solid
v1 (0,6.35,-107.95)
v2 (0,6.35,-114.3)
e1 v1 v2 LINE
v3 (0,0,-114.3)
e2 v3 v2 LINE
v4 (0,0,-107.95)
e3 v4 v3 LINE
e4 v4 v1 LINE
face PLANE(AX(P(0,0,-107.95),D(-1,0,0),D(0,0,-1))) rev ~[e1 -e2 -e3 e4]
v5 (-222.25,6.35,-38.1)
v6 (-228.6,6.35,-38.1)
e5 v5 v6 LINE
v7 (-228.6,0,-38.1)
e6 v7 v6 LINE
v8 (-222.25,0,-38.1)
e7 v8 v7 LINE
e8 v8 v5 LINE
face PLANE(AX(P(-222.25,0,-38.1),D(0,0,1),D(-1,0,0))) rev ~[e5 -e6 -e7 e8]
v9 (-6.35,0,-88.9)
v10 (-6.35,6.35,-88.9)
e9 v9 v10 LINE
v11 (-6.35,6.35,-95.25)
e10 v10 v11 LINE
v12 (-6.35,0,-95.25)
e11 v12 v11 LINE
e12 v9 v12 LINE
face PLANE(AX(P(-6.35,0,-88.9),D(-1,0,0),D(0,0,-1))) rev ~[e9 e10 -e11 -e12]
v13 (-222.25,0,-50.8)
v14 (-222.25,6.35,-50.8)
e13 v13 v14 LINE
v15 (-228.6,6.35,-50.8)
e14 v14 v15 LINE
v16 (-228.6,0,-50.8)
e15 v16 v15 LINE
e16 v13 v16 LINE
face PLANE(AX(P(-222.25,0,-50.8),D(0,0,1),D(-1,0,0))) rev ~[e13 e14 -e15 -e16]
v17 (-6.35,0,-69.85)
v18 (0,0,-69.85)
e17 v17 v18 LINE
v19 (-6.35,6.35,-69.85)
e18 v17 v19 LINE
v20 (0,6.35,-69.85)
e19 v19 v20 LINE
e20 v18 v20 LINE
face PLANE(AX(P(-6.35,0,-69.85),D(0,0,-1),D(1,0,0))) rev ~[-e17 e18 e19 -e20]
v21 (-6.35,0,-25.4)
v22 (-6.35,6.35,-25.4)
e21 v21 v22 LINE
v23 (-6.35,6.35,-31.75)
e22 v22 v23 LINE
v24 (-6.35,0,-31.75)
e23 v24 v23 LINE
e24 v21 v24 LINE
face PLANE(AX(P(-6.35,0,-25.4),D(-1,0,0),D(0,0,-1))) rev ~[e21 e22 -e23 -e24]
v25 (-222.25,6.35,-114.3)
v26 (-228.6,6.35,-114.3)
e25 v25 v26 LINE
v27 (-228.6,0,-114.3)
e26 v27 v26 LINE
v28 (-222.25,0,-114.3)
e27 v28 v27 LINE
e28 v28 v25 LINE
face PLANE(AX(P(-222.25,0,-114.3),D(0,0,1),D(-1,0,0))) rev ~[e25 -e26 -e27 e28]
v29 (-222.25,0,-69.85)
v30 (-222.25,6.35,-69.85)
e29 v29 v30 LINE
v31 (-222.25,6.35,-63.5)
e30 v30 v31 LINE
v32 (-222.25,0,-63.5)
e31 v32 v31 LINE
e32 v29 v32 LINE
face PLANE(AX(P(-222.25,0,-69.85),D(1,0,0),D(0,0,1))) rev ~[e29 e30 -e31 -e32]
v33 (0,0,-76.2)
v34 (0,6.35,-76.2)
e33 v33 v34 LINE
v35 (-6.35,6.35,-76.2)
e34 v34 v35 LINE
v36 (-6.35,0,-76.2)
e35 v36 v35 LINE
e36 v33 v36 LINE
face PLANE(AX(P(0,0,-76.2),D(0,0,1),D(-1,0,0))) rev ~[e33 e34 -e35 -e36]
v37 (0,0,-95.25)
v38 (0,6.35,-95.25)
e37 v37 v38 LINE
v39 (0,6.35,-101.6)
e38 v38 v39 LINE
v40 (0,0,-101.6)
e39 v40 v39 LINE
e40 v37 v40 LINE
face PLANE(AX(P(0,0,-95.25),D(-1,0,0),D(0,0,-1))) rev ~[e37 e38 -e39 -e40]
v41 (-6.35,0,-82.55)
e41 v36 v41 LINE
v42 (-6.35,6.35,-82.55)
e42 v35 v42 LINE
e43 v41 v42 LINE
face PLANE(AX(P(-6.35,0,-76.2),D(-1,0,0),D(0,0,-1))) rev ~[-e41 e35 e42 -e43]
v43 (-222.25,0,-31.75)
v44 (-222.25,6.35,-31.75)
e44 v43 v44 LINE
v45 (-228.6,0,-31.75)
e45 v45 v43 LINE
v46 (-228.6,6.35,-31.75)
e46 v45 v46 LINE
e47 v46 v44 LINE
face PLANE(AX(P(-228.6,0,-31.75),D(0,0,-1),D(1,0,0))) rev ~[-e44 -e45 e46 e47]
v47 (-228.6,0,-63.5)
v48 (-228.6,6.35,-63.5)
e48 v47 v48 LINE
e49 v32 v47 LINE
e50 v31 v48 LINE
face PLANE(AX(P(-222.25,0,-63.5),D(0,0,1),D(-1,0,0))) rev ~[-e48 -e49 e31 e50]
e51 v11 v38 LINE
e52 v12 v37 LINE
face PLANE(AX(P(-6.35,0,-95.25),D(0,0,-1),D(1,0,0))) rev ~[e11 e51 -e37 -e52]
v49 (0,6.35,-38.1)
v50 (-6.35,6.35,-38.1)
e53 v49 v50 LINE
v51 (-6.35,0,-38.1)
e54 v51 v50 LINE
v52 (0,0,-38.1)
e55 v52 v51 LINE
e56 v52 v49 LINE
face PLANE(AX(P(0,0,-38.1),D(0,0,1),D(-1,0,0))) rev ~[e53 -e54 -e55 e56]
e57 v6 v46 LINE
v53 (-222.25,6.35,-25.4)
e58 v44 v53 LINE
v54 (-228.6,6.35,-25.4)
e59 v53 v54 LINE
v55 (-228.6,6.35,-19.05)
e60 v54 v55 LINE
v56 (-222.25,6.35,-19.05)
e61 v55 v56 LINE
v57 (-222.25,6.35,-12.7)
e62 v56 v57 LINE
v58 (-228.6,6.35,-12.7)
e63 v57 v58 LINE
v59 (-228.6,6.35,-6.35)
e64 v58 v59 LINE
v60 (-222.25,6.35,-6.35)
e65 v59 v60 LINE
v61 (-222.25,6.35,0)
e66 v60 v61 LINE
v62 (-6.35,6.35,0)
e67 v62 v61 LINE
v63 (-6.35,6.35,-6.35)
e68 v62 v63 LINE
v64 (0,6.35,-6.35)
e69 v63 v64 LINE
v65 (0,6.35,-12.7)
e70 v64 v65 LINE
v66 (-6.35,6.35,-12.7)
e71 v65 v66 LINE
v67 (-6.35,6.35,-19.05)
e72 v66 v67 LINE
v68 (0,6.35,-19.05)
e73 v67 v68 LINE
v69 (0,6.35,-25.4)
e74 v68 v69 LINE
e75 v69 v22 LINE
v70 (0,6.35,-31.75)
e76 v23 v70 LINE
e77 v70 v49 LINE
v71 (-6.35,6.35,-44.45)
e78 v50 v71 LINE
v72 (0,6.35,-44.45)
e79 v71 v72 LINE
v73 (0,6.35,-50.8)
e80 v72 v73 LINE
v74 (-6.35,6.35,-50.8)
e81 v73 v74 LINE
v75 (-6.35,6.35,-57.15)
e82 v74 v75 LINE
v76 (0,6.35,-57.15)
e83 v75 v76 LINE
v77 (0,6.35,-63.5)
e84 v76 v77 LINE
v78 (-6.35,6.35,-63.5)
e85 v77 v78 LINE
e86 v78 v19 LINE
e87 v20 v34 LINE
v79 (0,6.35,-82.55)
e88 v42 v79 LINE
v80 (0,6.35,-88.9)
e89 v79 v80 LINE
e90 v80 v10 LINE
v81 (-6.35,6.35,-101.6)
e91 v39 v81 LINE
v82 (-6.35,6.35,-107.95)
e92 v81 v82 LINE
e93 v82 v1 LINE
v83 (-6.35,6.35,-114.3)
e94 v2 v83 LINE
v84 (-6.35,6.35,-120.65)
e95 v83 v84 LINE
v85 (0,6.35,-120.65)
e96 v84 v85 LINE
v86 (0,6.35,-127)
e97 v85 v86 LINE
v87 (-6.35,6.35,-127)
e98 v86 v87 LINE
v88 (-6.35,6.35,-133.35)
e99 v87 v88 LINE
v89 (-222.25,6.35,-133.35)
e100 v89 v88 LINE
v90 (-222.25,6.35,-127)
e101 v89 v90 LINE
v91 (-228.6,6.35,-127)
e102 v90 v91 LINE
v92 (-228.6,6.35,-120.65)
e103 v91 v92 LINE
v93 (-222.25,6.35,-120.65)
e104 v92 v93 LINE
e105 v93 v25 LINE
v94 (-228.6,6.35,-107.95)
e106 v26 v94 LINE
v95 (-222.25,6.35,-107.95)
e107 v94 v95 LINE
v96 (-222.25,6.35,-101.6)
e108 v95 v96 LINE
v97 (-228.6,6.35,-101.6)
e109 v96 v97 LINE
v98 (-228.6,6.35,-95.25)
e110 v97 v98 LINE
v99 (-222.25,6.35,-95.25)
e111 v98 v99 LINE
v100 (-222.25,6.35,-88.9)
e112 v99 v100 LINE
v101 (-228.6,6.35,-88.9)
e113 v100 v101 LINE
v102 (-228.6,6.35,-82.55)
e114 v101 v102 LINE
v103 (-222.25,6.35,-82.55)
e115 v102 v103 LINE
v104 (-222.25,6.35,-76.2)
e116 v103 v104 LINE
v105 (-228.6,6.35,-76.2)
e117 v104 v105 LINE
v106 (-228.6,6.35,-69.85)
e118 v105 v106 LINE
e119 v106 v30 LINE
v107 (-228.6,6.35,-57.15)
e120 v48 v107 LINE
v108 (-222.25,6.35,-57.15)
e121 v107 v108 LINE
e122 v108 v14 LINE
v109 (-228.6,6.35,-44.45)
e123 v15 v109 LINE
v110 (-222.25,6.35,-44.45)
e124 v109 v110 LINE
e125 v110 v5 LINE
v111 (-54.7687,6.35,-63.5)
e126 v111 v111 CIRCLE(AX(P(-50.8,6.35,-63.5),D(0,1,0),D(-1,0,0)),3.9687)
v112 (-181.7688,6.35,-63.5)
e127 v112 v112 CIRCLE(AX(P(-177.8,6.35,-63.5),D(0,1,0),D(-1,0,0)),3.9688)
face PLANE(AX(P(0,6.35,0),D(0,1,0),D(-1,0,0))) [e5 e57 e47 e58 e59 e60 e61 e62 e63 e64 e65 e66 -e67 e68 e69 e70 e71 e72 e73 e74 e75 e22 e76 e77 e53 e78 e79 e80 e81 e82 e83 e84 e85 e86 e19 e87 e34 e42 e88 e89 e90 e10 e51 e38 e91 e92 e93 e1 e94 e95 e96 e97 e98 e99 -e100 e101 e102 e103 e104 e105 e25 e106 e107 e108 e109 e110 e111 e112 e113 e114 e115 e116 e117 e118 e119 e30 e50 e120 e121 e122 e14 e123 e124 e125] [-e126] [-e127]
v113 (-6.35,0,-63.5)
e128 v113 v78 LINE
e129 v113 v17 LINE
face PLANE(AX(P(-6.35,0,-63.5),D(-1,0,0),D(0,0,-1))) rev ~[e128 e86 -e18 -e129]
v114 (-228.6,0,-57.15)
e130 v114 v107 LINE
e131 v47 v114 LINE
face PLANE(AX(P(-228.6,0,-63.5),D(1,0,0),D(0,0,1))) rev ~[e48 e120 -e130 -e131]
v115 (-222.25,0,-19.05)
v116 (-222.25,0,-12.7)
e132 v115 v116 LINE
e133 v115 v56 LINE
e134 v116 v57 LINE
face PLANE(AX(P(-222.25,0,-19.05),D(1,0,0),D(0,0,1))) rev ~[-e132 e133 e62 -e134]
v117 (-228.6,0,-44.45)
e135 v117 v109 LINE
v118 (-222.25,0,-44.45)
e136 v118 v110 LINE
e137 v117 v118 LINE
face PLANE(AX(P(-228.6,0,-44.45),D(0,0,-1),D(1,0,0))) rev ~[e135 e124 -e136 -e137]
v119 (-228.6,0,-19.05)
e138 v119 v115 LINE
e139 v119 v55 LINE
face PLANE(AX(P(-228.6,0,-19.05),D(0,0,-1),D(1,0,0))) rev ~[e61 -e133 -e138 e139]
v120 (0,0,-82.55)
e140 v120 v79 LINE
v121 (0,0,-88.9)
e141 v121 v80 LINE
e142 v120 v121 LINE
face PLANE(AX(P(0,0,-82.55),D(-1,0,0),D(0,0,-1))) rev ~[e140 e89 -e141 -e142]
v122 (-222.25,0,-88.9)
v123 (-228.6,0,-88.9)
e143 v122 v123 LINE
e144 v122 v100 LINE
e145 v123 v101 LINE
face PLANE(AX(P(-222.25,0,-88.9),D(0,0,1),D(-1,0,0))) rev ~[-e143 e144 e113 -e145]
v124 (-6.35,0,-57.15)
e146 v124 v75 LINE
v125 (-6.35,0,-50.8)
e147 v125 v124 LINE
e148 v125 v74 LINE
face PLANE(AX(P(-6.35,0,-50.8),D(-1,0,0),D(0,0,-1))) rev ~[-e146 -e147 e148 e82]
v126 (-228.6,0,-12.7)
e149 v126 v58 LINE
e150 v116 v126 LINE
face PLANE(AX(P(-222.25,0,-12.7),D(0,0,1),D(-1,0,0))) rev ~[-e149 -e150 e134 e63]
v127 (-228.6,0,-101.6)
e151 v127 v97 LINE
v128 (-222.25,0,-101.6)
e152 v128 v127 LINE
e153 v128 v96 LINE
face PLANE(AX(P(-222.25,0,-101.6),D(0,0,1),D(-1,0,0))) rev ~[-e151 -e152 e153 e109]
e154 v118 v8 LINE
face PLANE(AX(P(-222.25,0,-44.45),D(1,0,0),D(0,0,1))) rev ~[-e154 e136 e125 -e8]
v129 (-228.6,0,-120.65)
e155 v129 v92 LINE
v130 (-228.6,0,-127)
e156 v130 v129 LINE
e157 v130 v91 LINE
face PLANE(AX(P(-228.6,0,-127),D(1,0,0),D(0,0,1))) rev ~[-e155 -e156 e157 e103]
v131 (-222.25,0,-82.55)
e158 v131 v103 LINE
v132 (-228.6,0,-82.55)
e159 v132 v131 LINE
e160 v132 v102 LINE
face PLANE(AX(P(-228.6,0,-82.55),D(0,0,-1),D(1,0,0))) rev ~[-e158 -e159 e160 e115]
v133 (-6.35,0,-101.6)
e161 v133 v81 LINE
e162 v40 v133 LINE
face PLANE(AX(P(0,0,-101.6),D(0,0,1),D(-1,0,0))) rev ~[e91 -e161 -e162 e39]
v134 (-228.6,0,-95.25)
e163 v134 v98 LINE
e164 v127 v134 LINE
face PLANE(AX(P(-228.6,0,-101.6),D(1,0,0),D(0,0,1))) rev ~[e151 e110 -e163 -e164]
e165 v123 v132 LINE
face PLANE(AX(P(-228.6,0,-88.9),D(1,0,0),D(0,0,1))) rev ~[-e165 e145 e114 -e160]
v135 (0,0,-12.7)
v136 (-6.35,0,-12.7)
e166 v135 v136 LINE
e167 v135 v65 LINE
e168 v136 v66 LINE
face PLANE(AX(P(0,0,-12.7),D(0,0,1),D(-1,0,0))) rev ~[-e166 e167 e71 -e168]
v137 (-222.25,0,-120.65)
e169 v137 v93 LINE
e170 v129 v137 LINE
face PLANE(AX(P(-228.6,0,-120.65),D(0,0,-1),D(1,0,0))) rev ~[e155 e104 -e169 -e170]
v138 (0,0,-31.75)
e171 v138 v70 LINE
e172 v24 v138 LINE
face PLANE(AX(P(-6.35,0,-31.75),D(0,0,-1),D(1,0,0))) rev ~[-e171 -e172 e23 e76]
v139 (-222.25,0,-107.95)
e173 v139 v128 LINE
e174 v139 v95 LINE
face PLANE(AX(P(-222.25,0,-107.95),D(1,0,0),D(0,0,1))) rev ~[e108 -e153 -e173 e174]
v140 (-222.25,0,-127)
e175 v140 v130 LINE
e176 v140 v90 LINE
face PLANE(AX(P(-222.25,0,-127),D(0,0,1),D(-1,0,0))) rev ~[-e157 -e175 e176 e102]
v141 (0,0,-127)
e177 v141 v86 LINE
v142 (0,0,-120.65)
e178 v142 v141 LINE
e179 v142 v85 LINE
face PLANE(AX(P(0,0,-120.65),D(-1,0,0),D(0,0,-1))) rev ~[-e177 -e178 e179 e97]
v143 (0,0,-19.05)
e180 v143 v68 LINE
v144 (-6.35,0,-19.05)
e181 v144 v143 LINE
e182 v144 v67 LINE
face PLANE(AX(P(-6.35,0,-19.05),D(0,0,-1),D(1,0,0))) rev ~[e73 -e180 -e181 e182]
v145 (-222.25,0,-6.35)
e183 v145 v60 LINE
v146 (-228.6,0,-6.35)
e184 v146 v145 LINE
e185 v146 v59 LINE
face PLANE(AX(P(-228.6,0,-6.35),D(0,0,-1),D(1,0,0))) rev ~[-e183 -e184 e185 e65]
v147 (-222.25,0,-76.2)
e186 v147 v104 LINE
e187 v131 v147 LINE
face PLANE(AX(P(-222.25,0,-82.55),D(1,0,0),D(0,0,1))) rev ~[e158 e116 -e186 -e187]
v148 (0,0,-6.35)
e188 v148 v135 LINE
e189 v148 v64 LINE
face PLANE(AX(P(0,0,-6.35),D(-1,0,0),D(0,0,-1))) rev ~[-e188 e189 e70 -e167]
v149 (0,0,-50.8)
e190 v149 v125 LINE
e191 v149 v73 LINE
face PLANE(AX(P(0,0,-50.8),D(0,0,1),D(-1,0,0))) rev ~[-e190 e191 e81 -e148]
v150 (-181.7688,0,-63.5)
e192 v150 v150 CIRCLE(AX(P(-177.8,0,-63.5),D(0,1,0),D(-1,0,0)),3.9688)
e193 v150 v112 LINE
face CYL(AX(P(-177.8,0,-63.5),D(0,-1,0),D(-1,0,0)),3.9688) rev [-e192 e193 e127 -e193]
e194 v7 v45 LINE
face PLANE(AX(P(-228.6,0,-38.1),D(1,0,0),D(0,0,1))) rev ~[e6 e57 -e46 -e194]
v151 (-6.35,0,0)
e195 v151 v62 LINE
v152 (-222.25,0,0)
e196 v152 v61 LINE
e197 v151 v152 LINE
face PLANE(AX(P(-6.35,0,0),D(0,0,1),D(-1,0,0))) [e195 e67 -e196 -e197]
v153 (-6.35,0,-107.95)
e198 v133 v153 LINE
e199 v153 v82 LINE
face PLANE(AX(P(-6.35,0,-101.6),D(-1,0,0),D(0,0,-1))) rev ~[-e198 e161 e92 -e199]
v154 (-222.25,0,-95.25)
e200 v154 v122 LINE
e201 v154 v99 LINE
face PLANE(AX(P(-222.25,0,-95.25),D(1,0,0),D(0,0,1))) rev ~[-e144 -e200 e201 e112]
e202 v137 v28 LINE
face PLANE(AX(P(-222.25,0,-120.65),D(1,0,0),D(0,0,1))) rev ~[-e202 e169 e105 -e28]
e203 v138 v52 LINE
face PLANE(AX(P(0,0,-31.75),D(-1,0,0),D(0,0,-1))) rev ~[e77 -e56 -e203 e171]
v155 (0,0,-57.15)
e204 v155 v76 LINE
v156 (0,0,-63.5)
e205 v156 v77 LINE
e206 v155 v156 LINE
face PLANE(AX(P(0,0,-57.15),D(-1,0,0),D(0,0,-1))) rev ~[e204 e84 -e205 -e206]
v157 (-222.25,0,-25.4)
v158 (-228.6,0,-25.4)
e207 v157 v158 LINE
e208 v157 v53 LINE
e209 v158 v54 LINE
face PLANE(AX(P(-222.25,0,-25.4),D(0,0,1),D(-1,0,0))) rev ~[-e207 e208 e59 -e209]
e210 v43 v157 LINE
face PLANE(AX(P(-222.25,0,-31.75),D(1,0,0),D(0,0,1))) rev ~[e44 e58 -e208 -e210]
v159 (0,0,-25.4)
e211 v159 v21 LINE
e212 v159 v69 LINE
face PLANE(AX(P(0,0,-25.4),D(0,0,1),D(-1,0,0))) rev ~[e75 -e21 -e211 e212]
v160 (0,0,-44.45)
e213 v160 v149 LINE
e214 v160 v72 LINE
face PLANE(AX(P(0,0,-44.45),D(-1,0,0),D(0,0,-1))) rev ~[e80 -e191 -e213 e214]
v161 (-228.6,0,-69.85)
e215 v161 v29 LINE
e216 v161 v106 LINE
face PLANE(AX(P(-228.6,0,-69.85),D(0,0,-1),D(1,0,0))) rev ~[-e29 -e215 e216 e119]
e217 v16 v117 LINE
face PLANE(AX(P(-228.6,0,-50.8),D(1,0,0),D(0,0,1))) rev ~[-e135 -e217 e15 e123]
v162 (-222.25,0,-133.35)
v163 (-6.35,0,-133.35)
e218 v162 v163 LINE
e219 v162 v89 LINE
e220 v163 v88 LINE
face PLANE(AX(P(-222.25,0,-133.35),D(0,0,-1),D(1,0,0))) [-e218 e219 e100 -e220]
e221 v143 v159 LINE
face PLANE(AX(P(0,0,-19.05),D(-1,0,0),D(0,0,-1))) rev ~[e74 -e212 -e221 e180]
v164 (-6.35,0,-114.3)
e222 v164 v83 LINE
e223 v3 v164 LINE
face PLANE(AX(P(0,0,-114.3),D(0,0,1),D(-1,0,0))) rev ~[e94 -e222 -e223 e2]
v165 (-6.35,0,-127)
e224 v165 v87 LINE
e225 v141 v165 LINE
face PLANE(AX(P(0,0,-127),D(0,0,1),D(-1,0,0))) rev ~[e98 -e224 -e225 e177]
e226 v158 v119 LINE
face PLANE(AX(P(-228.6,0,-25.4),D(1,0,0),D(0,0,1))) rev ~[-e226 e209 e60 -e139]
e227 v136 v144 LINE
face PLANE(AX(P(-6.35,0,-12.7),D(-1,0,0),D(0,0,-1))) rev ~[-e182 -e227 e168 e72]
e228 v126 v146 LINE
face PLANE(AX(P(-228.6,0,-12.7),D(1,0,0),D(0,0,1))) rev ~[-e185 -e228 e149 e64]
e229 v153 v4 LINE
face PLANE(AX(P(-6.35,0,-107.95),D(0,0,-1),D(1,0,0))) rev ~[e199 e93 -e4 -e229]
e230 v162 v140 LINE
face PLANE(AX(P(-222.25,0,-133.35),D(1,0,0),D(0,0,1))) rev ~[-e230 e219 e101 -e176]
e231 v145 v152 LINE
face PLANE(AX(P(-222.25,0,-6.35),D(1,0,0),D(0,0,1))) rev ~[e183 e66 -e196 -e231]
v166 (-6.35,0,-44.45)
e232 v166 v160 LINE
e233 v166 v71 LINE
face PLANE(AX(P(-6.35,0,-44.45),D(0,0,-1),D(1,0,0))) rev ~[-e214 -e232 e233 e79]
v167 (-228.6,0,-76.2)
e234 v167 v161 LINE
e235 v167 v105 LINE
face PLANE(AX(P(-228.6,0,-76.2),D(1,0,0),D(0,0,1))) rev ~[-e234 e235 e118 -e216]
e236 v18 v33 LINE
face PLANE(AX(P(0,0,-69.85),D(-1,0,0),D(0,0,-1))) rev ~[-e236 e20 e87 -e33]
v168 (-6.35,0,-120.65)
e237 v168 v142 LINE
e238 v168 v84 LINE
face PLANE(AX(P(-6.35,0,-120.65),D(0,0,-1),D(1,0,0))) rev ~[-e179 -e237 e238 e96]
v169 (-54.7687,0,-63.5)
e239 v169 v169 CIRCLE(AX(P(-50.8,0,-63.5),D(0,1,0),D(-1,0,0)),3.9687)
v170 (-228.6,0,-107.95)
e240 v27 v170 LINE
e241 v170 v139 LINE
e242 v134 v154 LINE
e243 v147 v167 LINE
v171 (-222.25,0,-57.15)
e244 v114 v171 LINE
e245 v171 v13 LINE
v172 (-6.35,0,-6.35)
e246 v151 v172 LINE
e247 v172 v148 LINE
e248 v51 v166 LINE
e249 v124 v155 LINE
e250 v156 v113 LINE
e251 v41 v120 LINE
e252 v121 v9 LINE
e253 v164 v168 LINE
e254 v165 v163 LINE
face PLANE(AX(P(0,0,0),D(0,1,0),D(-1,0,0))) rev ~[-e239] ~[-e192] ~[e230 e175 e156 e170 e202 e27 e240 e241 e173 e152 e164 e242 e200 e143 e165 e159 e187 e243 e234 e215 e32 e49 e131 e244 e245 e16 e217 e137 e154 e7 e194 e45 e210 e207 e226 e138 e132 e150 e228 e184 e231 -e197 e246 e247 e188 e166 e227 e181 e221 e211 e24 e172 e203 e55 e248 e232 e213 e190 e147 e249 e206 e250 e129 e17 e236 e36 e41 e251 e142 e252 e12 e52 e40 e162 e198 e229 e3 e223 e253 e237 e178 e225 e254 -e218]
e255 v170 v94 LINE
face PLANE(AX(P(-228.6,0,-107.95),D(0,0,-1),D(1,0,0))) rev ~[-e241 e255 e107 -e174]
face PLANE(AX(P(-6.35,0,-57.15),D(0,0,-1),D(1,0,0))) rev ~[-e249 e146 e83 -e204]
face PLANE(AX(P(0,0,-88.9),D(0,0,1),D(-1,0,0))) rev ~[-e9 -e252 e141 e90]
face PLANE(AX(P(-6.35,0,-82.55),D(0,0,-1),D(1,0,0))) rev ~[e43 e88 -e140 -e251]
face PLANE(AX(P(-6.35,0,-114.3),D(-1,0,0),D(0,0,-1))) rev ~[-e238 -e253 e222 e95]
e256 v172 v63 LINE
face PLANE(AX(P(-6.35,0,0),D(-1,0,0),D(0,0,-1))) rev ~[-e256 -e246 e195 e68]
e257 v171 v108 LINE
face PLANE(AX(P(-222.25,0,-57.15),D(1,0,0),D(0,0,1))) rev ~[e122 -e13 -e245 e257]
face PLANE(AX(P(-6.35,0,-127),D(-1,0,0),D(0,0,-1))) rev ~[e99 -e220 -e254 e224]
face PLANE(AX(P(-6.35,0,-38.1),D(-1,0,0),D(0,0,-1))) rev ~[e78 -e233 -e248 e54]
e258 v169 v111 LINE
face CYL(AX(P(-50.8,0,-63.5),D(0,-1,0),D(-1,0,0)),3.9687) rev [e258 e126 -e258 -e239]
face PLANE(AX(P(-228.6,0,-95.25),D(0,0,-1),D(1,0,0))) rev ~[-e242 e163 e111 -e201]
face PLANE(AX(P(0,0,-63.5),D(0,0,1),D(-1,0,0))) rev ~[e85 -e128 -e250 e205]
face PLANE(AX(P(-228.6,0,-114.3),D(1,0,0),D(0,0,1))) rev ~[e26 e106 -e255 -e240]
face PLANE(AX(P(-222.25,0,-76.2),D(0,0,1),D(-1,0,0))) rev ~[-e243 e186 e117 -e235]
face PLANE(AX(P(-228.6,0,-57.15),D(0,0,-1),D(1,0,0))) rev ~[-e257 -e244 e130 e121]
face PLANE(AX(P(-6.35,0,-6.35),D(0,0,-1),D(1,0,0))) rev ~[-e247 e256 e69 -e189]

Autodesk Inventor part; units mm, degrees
ref_plane "YZ Plane" through (0, 0, 0) normal (1, 0, 0) x (0, 1, 0)
ref_plane "XZ Plane" through (0, 0, 0) normal (0, 1, 0) x (-1, 0, 0)
ref_plane "XY Plane" through (0, 0, 0) normal (0, 0, 1) x (1, 0, 0)
sketch "Sketch5" plane through (0, 0, 0) normal (0, 1, 0) x (-1, 0, 0)
  circle A0 centre (177.8, -63.5) radius 3.9688
  circle A1 centre (50.8, -63.5) radius 3.9687
  line L0 (6.35, 0) -> (6.35, -6.35)
  line L1 (6.35, -6.35) -> (0, -6.35)
  line L2 (0, -6.35) -> (0, -12.7)
  line L3 (0, -12.7) -> (6.35, -12.7)
  line L4 (6.35, -12.7) -> (6.35, -19.05)
  line L5 (6.35, -19.05) -> (0, -19.05)
  line L6 (0, -19.05) -> (0, -25.4)
  line L7 (0, -25.4) -> (6.35, -25.4)
  line L8 (6.35, -25.4) -> (6.35, -31.75)
  line L9 (6.35, -31.75) -> (0, -31.75)
  line L10 (0, -31.75) -> (0, -38.1)
  line L11 (0, -38.1) -> (6.35, -38.1)
  line L12 (6.35, -38.1) -> (6.35, -44.45)
  line L13 (6.35, -44.45) -> (0, -44.45)
  line L14 (0, -44.45) -> (0, -50.8)
  line L15 (0, -50.8) -> (6.35, -50.8)
  line L16 (6.35, -50.8) -> (6.35, -57.15)
  line L17 (6.35, -57.15) -> (0, -57.15)
  line L18 (0, -57.15) -> (0, -63.5)
  line L19 (0, -63.5) -> (6.35, -63.5)
  line L20 (6.35, -63.5) -> (6.35, -69.85)
  line L21 (6.35, -69.85) -> (0, -69.85)
  line L22 (0, -69.85) -> (0, -76.2)
  line L23 (0, -76.2) -> (6.35, -76.2)
  line L24 (6.35, -76.2) -> (6.35, -82.55)
  line L25 (6.35, -82.55) -> (0, -82.55)
  line L26 (0, -82.55) -> (0, -88.9)
  line L27 (0, -88.9) -> (6.35, -88.9)
  line L28 (6.35, -88.9) -> (6.35, -95.25)
  line L29 (6.35, -95.25) -> (0, -95.25)
  line L30 (0, -95.25) -> (0, -101.6)
  line L31 (0, -101.6) -> (6.35, -101.6)
  line L32 (6.35, -101.6) -> (6.35, -107.95)
  line L33 (6.35, -107.95) -> (0, -107.95)
  line L34 (0, -107.95) -> (0, -114.3)
  line L35 (0, -114.3) -> (6.35, -114.3)
  line L36 (6.35, -114.3) -> (6.35, -120.65)
  line L37 (6.35, -120.65) -> (0, -120.65)
  line L38 (0, -120.65) -> (0, -127)
  line L39 (0, -127) -> (6.35, -127)
  line L40 (6.35, -127) -> (6.35, -133.35)
  line L41 (222.25, -133.35) -> (222.25, -127)
  line L42 (222.25, -127) -> (228.6, -127)
  line L43 (228.6, -127) -> (228.6, -120.65)
  line L44 (228.6, -120.65) -> (222.25, -120.65)
  line L45 (222.25, -120.65) -> (222.25, -114.3)
  line L46 (222.25, -114.3) -> (228.6, -114.3)
  line L47 (228.6, -114.3) -> (228.6, -107.95)
  line L48 (228.6, -107.95) -> (222.25, -107.95)
  line L49 (222.25, -107.95) -> (222.25, -101.6)
  line L50 (222.25, -101.6) -> (228.6, -101.6)
  line L51 (228.6, -101.6) -> (228.6, -95.25)
  line L52 (228.6, -95.25) -> (222.25, -95.25)
  line L53 (222.25, -95.25) -> (222.25, -88.9)
  line L54 (222.25, -88.9) -> (228.6, -88.9)
  line L55 (228.6, -88.9) -> (228.6, -82.55)
  line L56 (228.6, -82.55) -> (222.25, -82.55)
  line L57 (222.25, -82.55) -> (222.25, -76.2)
  line L58 (222.25, -76.2) -> (228.6, -76.2)
  line L59 (228.6, -76.2) -> (228.6, -69.85)
  line L60 (228.6, -69.85) -> (222.25, -69.85)
  line L61 (222.25, -69.85) -> (222.25, -63.5)
  line L62 (222.25, -63.5) -> (228.6, -63.5)
  line L63 (228.6, -63.5) -> (228.6, -57.15)
  line L64 (228.6, -57.15) -> (222.25, -57.15)
  line L65 (222.25, -57.15) -> (222.25, -50.8)
  line L66 (222.25, -50.8) -> (228.6, -50.8)
  line L67 (228.6, -50.8) -> (228.6, -44.45)
  line L68 (228.6, -44.45) -> (222.25, -44.45)
  line L69 (222.25, -44.45) -> (222.25, -38.1)
  line L70 (222.25, -38.1) -> (228.6, -38.1)
  line L71 (228.6, -38.1) -> (228.6, -31.75)
  line L72 (228.6, -31.75) -> (222.25, -31.75)
  line L73 (222.25, -31.75) -> (222.25, -25.4)
  line L74 (222.25, -25.4) -> (228.6, -25.4)
  line L75 (228.6, -25.4) -> (228.6, -19.05)
  line L76 (228.6, -19.05) -> (222.25, -19.05)
  line L77 (222.25, -19.05) -> (222.25, -12.7)
  line L78 (222.25, -12.7) -> (228.6, -12.7)
  line L79 (228.6, -12.7) -> (228.6, -6.35)
  line L80 (228.6, -6.35) -> (222.25, -6.35)
  line L81 (222.25, -6.35) -> (222.25, 0)
  line L82 (6.35, 0) -> (222.25, 0)
  line L83 (222.25, -133.35) -> (6.35, -133.35)
  point P0 (0, 0)
  dimension "Shaft_Diameter" = 7.9375
  dimension "d59" = 7.9375
  dimension "d73" = 6.35
  dimension "Teeth_Width" = 6.35
  dimension "d79" = 6.35
  dimension "d80" = 6.35
  dimension "d81" = 6.35
  dimension "d82" = 6.35
  dimension "d92" = 6.35
  dimension "d93" = 6.35
  dimension "d94" = 6.35
  dimension "d95" = 6.35
  dimension "d96" = 6.35
  dimension "d97" = 6.35
  dimension "d100" = 6.35
  dimension "d101" = 6.35
  dimension "d102" = 6.35
  dimension "d103" = 6.35
  dimension "d106" = 6.35
  dimension "d107" = 6.35
  dimension "d108" = 6.35
  dimension "d109" = 6.35
  dimension "d112" = 6.35
  dimension "d113" = 6.35
  dimension "d114" = 6.35
  dimension "d115" = 6.35
  dimension "d118" = 6.35
  dimension "d119" = 6.35
  dimension "d120" = 6.35
  dimension "d121" = 6.35
  dimension "d124" = 6.35
  dimension "d125" = 6.35
  dimension "d126" = 6.35
  dimension "d127" = 6.35
  dimension "d130" = 6.35
  dimension "d131" = 6.35
  dimension "d132" = 6.35
  dimension "d133" = 6.35
  dimension "d136" = 6.35
  dimension "d137" = 6.35
  dimension "d138" = 6.35
  dimension "d139" = 6.35
  dimension "d143" = 6.35
  dimension "d149" = 6.35
  dimension "d150" = 6.35
  dimension "d151" = 6.35
  dimension "d152" = 6.35
  dimension "d153" = 6.35
  dimension "d154" = 6.35
  dimension "d155" = 6.35
  dimension "d156" = 6.35
  dimension "d157" = 6.35
  dimension "d158" = 6.35
  dimension "d159" = 6.35
  dimension "d160" = 6.35
  dimension "d161" = 6.35
  dimension "d162" = 6.35
  dimension "d163" = 6.35
  dimension "d164" = 6.35
  dimension "d165" = 6.35
  dimension "d166" = 6.35
  dimension "d167" = 6.35
  dimension "d168" = 6.35
  dimension "d169" = 6.35
extrude "Extrusion4" add sketch "Sketch5" along normal blind 6.35
equation "\"d59\" = Shaft_Diameter"
properties part number "Base"
